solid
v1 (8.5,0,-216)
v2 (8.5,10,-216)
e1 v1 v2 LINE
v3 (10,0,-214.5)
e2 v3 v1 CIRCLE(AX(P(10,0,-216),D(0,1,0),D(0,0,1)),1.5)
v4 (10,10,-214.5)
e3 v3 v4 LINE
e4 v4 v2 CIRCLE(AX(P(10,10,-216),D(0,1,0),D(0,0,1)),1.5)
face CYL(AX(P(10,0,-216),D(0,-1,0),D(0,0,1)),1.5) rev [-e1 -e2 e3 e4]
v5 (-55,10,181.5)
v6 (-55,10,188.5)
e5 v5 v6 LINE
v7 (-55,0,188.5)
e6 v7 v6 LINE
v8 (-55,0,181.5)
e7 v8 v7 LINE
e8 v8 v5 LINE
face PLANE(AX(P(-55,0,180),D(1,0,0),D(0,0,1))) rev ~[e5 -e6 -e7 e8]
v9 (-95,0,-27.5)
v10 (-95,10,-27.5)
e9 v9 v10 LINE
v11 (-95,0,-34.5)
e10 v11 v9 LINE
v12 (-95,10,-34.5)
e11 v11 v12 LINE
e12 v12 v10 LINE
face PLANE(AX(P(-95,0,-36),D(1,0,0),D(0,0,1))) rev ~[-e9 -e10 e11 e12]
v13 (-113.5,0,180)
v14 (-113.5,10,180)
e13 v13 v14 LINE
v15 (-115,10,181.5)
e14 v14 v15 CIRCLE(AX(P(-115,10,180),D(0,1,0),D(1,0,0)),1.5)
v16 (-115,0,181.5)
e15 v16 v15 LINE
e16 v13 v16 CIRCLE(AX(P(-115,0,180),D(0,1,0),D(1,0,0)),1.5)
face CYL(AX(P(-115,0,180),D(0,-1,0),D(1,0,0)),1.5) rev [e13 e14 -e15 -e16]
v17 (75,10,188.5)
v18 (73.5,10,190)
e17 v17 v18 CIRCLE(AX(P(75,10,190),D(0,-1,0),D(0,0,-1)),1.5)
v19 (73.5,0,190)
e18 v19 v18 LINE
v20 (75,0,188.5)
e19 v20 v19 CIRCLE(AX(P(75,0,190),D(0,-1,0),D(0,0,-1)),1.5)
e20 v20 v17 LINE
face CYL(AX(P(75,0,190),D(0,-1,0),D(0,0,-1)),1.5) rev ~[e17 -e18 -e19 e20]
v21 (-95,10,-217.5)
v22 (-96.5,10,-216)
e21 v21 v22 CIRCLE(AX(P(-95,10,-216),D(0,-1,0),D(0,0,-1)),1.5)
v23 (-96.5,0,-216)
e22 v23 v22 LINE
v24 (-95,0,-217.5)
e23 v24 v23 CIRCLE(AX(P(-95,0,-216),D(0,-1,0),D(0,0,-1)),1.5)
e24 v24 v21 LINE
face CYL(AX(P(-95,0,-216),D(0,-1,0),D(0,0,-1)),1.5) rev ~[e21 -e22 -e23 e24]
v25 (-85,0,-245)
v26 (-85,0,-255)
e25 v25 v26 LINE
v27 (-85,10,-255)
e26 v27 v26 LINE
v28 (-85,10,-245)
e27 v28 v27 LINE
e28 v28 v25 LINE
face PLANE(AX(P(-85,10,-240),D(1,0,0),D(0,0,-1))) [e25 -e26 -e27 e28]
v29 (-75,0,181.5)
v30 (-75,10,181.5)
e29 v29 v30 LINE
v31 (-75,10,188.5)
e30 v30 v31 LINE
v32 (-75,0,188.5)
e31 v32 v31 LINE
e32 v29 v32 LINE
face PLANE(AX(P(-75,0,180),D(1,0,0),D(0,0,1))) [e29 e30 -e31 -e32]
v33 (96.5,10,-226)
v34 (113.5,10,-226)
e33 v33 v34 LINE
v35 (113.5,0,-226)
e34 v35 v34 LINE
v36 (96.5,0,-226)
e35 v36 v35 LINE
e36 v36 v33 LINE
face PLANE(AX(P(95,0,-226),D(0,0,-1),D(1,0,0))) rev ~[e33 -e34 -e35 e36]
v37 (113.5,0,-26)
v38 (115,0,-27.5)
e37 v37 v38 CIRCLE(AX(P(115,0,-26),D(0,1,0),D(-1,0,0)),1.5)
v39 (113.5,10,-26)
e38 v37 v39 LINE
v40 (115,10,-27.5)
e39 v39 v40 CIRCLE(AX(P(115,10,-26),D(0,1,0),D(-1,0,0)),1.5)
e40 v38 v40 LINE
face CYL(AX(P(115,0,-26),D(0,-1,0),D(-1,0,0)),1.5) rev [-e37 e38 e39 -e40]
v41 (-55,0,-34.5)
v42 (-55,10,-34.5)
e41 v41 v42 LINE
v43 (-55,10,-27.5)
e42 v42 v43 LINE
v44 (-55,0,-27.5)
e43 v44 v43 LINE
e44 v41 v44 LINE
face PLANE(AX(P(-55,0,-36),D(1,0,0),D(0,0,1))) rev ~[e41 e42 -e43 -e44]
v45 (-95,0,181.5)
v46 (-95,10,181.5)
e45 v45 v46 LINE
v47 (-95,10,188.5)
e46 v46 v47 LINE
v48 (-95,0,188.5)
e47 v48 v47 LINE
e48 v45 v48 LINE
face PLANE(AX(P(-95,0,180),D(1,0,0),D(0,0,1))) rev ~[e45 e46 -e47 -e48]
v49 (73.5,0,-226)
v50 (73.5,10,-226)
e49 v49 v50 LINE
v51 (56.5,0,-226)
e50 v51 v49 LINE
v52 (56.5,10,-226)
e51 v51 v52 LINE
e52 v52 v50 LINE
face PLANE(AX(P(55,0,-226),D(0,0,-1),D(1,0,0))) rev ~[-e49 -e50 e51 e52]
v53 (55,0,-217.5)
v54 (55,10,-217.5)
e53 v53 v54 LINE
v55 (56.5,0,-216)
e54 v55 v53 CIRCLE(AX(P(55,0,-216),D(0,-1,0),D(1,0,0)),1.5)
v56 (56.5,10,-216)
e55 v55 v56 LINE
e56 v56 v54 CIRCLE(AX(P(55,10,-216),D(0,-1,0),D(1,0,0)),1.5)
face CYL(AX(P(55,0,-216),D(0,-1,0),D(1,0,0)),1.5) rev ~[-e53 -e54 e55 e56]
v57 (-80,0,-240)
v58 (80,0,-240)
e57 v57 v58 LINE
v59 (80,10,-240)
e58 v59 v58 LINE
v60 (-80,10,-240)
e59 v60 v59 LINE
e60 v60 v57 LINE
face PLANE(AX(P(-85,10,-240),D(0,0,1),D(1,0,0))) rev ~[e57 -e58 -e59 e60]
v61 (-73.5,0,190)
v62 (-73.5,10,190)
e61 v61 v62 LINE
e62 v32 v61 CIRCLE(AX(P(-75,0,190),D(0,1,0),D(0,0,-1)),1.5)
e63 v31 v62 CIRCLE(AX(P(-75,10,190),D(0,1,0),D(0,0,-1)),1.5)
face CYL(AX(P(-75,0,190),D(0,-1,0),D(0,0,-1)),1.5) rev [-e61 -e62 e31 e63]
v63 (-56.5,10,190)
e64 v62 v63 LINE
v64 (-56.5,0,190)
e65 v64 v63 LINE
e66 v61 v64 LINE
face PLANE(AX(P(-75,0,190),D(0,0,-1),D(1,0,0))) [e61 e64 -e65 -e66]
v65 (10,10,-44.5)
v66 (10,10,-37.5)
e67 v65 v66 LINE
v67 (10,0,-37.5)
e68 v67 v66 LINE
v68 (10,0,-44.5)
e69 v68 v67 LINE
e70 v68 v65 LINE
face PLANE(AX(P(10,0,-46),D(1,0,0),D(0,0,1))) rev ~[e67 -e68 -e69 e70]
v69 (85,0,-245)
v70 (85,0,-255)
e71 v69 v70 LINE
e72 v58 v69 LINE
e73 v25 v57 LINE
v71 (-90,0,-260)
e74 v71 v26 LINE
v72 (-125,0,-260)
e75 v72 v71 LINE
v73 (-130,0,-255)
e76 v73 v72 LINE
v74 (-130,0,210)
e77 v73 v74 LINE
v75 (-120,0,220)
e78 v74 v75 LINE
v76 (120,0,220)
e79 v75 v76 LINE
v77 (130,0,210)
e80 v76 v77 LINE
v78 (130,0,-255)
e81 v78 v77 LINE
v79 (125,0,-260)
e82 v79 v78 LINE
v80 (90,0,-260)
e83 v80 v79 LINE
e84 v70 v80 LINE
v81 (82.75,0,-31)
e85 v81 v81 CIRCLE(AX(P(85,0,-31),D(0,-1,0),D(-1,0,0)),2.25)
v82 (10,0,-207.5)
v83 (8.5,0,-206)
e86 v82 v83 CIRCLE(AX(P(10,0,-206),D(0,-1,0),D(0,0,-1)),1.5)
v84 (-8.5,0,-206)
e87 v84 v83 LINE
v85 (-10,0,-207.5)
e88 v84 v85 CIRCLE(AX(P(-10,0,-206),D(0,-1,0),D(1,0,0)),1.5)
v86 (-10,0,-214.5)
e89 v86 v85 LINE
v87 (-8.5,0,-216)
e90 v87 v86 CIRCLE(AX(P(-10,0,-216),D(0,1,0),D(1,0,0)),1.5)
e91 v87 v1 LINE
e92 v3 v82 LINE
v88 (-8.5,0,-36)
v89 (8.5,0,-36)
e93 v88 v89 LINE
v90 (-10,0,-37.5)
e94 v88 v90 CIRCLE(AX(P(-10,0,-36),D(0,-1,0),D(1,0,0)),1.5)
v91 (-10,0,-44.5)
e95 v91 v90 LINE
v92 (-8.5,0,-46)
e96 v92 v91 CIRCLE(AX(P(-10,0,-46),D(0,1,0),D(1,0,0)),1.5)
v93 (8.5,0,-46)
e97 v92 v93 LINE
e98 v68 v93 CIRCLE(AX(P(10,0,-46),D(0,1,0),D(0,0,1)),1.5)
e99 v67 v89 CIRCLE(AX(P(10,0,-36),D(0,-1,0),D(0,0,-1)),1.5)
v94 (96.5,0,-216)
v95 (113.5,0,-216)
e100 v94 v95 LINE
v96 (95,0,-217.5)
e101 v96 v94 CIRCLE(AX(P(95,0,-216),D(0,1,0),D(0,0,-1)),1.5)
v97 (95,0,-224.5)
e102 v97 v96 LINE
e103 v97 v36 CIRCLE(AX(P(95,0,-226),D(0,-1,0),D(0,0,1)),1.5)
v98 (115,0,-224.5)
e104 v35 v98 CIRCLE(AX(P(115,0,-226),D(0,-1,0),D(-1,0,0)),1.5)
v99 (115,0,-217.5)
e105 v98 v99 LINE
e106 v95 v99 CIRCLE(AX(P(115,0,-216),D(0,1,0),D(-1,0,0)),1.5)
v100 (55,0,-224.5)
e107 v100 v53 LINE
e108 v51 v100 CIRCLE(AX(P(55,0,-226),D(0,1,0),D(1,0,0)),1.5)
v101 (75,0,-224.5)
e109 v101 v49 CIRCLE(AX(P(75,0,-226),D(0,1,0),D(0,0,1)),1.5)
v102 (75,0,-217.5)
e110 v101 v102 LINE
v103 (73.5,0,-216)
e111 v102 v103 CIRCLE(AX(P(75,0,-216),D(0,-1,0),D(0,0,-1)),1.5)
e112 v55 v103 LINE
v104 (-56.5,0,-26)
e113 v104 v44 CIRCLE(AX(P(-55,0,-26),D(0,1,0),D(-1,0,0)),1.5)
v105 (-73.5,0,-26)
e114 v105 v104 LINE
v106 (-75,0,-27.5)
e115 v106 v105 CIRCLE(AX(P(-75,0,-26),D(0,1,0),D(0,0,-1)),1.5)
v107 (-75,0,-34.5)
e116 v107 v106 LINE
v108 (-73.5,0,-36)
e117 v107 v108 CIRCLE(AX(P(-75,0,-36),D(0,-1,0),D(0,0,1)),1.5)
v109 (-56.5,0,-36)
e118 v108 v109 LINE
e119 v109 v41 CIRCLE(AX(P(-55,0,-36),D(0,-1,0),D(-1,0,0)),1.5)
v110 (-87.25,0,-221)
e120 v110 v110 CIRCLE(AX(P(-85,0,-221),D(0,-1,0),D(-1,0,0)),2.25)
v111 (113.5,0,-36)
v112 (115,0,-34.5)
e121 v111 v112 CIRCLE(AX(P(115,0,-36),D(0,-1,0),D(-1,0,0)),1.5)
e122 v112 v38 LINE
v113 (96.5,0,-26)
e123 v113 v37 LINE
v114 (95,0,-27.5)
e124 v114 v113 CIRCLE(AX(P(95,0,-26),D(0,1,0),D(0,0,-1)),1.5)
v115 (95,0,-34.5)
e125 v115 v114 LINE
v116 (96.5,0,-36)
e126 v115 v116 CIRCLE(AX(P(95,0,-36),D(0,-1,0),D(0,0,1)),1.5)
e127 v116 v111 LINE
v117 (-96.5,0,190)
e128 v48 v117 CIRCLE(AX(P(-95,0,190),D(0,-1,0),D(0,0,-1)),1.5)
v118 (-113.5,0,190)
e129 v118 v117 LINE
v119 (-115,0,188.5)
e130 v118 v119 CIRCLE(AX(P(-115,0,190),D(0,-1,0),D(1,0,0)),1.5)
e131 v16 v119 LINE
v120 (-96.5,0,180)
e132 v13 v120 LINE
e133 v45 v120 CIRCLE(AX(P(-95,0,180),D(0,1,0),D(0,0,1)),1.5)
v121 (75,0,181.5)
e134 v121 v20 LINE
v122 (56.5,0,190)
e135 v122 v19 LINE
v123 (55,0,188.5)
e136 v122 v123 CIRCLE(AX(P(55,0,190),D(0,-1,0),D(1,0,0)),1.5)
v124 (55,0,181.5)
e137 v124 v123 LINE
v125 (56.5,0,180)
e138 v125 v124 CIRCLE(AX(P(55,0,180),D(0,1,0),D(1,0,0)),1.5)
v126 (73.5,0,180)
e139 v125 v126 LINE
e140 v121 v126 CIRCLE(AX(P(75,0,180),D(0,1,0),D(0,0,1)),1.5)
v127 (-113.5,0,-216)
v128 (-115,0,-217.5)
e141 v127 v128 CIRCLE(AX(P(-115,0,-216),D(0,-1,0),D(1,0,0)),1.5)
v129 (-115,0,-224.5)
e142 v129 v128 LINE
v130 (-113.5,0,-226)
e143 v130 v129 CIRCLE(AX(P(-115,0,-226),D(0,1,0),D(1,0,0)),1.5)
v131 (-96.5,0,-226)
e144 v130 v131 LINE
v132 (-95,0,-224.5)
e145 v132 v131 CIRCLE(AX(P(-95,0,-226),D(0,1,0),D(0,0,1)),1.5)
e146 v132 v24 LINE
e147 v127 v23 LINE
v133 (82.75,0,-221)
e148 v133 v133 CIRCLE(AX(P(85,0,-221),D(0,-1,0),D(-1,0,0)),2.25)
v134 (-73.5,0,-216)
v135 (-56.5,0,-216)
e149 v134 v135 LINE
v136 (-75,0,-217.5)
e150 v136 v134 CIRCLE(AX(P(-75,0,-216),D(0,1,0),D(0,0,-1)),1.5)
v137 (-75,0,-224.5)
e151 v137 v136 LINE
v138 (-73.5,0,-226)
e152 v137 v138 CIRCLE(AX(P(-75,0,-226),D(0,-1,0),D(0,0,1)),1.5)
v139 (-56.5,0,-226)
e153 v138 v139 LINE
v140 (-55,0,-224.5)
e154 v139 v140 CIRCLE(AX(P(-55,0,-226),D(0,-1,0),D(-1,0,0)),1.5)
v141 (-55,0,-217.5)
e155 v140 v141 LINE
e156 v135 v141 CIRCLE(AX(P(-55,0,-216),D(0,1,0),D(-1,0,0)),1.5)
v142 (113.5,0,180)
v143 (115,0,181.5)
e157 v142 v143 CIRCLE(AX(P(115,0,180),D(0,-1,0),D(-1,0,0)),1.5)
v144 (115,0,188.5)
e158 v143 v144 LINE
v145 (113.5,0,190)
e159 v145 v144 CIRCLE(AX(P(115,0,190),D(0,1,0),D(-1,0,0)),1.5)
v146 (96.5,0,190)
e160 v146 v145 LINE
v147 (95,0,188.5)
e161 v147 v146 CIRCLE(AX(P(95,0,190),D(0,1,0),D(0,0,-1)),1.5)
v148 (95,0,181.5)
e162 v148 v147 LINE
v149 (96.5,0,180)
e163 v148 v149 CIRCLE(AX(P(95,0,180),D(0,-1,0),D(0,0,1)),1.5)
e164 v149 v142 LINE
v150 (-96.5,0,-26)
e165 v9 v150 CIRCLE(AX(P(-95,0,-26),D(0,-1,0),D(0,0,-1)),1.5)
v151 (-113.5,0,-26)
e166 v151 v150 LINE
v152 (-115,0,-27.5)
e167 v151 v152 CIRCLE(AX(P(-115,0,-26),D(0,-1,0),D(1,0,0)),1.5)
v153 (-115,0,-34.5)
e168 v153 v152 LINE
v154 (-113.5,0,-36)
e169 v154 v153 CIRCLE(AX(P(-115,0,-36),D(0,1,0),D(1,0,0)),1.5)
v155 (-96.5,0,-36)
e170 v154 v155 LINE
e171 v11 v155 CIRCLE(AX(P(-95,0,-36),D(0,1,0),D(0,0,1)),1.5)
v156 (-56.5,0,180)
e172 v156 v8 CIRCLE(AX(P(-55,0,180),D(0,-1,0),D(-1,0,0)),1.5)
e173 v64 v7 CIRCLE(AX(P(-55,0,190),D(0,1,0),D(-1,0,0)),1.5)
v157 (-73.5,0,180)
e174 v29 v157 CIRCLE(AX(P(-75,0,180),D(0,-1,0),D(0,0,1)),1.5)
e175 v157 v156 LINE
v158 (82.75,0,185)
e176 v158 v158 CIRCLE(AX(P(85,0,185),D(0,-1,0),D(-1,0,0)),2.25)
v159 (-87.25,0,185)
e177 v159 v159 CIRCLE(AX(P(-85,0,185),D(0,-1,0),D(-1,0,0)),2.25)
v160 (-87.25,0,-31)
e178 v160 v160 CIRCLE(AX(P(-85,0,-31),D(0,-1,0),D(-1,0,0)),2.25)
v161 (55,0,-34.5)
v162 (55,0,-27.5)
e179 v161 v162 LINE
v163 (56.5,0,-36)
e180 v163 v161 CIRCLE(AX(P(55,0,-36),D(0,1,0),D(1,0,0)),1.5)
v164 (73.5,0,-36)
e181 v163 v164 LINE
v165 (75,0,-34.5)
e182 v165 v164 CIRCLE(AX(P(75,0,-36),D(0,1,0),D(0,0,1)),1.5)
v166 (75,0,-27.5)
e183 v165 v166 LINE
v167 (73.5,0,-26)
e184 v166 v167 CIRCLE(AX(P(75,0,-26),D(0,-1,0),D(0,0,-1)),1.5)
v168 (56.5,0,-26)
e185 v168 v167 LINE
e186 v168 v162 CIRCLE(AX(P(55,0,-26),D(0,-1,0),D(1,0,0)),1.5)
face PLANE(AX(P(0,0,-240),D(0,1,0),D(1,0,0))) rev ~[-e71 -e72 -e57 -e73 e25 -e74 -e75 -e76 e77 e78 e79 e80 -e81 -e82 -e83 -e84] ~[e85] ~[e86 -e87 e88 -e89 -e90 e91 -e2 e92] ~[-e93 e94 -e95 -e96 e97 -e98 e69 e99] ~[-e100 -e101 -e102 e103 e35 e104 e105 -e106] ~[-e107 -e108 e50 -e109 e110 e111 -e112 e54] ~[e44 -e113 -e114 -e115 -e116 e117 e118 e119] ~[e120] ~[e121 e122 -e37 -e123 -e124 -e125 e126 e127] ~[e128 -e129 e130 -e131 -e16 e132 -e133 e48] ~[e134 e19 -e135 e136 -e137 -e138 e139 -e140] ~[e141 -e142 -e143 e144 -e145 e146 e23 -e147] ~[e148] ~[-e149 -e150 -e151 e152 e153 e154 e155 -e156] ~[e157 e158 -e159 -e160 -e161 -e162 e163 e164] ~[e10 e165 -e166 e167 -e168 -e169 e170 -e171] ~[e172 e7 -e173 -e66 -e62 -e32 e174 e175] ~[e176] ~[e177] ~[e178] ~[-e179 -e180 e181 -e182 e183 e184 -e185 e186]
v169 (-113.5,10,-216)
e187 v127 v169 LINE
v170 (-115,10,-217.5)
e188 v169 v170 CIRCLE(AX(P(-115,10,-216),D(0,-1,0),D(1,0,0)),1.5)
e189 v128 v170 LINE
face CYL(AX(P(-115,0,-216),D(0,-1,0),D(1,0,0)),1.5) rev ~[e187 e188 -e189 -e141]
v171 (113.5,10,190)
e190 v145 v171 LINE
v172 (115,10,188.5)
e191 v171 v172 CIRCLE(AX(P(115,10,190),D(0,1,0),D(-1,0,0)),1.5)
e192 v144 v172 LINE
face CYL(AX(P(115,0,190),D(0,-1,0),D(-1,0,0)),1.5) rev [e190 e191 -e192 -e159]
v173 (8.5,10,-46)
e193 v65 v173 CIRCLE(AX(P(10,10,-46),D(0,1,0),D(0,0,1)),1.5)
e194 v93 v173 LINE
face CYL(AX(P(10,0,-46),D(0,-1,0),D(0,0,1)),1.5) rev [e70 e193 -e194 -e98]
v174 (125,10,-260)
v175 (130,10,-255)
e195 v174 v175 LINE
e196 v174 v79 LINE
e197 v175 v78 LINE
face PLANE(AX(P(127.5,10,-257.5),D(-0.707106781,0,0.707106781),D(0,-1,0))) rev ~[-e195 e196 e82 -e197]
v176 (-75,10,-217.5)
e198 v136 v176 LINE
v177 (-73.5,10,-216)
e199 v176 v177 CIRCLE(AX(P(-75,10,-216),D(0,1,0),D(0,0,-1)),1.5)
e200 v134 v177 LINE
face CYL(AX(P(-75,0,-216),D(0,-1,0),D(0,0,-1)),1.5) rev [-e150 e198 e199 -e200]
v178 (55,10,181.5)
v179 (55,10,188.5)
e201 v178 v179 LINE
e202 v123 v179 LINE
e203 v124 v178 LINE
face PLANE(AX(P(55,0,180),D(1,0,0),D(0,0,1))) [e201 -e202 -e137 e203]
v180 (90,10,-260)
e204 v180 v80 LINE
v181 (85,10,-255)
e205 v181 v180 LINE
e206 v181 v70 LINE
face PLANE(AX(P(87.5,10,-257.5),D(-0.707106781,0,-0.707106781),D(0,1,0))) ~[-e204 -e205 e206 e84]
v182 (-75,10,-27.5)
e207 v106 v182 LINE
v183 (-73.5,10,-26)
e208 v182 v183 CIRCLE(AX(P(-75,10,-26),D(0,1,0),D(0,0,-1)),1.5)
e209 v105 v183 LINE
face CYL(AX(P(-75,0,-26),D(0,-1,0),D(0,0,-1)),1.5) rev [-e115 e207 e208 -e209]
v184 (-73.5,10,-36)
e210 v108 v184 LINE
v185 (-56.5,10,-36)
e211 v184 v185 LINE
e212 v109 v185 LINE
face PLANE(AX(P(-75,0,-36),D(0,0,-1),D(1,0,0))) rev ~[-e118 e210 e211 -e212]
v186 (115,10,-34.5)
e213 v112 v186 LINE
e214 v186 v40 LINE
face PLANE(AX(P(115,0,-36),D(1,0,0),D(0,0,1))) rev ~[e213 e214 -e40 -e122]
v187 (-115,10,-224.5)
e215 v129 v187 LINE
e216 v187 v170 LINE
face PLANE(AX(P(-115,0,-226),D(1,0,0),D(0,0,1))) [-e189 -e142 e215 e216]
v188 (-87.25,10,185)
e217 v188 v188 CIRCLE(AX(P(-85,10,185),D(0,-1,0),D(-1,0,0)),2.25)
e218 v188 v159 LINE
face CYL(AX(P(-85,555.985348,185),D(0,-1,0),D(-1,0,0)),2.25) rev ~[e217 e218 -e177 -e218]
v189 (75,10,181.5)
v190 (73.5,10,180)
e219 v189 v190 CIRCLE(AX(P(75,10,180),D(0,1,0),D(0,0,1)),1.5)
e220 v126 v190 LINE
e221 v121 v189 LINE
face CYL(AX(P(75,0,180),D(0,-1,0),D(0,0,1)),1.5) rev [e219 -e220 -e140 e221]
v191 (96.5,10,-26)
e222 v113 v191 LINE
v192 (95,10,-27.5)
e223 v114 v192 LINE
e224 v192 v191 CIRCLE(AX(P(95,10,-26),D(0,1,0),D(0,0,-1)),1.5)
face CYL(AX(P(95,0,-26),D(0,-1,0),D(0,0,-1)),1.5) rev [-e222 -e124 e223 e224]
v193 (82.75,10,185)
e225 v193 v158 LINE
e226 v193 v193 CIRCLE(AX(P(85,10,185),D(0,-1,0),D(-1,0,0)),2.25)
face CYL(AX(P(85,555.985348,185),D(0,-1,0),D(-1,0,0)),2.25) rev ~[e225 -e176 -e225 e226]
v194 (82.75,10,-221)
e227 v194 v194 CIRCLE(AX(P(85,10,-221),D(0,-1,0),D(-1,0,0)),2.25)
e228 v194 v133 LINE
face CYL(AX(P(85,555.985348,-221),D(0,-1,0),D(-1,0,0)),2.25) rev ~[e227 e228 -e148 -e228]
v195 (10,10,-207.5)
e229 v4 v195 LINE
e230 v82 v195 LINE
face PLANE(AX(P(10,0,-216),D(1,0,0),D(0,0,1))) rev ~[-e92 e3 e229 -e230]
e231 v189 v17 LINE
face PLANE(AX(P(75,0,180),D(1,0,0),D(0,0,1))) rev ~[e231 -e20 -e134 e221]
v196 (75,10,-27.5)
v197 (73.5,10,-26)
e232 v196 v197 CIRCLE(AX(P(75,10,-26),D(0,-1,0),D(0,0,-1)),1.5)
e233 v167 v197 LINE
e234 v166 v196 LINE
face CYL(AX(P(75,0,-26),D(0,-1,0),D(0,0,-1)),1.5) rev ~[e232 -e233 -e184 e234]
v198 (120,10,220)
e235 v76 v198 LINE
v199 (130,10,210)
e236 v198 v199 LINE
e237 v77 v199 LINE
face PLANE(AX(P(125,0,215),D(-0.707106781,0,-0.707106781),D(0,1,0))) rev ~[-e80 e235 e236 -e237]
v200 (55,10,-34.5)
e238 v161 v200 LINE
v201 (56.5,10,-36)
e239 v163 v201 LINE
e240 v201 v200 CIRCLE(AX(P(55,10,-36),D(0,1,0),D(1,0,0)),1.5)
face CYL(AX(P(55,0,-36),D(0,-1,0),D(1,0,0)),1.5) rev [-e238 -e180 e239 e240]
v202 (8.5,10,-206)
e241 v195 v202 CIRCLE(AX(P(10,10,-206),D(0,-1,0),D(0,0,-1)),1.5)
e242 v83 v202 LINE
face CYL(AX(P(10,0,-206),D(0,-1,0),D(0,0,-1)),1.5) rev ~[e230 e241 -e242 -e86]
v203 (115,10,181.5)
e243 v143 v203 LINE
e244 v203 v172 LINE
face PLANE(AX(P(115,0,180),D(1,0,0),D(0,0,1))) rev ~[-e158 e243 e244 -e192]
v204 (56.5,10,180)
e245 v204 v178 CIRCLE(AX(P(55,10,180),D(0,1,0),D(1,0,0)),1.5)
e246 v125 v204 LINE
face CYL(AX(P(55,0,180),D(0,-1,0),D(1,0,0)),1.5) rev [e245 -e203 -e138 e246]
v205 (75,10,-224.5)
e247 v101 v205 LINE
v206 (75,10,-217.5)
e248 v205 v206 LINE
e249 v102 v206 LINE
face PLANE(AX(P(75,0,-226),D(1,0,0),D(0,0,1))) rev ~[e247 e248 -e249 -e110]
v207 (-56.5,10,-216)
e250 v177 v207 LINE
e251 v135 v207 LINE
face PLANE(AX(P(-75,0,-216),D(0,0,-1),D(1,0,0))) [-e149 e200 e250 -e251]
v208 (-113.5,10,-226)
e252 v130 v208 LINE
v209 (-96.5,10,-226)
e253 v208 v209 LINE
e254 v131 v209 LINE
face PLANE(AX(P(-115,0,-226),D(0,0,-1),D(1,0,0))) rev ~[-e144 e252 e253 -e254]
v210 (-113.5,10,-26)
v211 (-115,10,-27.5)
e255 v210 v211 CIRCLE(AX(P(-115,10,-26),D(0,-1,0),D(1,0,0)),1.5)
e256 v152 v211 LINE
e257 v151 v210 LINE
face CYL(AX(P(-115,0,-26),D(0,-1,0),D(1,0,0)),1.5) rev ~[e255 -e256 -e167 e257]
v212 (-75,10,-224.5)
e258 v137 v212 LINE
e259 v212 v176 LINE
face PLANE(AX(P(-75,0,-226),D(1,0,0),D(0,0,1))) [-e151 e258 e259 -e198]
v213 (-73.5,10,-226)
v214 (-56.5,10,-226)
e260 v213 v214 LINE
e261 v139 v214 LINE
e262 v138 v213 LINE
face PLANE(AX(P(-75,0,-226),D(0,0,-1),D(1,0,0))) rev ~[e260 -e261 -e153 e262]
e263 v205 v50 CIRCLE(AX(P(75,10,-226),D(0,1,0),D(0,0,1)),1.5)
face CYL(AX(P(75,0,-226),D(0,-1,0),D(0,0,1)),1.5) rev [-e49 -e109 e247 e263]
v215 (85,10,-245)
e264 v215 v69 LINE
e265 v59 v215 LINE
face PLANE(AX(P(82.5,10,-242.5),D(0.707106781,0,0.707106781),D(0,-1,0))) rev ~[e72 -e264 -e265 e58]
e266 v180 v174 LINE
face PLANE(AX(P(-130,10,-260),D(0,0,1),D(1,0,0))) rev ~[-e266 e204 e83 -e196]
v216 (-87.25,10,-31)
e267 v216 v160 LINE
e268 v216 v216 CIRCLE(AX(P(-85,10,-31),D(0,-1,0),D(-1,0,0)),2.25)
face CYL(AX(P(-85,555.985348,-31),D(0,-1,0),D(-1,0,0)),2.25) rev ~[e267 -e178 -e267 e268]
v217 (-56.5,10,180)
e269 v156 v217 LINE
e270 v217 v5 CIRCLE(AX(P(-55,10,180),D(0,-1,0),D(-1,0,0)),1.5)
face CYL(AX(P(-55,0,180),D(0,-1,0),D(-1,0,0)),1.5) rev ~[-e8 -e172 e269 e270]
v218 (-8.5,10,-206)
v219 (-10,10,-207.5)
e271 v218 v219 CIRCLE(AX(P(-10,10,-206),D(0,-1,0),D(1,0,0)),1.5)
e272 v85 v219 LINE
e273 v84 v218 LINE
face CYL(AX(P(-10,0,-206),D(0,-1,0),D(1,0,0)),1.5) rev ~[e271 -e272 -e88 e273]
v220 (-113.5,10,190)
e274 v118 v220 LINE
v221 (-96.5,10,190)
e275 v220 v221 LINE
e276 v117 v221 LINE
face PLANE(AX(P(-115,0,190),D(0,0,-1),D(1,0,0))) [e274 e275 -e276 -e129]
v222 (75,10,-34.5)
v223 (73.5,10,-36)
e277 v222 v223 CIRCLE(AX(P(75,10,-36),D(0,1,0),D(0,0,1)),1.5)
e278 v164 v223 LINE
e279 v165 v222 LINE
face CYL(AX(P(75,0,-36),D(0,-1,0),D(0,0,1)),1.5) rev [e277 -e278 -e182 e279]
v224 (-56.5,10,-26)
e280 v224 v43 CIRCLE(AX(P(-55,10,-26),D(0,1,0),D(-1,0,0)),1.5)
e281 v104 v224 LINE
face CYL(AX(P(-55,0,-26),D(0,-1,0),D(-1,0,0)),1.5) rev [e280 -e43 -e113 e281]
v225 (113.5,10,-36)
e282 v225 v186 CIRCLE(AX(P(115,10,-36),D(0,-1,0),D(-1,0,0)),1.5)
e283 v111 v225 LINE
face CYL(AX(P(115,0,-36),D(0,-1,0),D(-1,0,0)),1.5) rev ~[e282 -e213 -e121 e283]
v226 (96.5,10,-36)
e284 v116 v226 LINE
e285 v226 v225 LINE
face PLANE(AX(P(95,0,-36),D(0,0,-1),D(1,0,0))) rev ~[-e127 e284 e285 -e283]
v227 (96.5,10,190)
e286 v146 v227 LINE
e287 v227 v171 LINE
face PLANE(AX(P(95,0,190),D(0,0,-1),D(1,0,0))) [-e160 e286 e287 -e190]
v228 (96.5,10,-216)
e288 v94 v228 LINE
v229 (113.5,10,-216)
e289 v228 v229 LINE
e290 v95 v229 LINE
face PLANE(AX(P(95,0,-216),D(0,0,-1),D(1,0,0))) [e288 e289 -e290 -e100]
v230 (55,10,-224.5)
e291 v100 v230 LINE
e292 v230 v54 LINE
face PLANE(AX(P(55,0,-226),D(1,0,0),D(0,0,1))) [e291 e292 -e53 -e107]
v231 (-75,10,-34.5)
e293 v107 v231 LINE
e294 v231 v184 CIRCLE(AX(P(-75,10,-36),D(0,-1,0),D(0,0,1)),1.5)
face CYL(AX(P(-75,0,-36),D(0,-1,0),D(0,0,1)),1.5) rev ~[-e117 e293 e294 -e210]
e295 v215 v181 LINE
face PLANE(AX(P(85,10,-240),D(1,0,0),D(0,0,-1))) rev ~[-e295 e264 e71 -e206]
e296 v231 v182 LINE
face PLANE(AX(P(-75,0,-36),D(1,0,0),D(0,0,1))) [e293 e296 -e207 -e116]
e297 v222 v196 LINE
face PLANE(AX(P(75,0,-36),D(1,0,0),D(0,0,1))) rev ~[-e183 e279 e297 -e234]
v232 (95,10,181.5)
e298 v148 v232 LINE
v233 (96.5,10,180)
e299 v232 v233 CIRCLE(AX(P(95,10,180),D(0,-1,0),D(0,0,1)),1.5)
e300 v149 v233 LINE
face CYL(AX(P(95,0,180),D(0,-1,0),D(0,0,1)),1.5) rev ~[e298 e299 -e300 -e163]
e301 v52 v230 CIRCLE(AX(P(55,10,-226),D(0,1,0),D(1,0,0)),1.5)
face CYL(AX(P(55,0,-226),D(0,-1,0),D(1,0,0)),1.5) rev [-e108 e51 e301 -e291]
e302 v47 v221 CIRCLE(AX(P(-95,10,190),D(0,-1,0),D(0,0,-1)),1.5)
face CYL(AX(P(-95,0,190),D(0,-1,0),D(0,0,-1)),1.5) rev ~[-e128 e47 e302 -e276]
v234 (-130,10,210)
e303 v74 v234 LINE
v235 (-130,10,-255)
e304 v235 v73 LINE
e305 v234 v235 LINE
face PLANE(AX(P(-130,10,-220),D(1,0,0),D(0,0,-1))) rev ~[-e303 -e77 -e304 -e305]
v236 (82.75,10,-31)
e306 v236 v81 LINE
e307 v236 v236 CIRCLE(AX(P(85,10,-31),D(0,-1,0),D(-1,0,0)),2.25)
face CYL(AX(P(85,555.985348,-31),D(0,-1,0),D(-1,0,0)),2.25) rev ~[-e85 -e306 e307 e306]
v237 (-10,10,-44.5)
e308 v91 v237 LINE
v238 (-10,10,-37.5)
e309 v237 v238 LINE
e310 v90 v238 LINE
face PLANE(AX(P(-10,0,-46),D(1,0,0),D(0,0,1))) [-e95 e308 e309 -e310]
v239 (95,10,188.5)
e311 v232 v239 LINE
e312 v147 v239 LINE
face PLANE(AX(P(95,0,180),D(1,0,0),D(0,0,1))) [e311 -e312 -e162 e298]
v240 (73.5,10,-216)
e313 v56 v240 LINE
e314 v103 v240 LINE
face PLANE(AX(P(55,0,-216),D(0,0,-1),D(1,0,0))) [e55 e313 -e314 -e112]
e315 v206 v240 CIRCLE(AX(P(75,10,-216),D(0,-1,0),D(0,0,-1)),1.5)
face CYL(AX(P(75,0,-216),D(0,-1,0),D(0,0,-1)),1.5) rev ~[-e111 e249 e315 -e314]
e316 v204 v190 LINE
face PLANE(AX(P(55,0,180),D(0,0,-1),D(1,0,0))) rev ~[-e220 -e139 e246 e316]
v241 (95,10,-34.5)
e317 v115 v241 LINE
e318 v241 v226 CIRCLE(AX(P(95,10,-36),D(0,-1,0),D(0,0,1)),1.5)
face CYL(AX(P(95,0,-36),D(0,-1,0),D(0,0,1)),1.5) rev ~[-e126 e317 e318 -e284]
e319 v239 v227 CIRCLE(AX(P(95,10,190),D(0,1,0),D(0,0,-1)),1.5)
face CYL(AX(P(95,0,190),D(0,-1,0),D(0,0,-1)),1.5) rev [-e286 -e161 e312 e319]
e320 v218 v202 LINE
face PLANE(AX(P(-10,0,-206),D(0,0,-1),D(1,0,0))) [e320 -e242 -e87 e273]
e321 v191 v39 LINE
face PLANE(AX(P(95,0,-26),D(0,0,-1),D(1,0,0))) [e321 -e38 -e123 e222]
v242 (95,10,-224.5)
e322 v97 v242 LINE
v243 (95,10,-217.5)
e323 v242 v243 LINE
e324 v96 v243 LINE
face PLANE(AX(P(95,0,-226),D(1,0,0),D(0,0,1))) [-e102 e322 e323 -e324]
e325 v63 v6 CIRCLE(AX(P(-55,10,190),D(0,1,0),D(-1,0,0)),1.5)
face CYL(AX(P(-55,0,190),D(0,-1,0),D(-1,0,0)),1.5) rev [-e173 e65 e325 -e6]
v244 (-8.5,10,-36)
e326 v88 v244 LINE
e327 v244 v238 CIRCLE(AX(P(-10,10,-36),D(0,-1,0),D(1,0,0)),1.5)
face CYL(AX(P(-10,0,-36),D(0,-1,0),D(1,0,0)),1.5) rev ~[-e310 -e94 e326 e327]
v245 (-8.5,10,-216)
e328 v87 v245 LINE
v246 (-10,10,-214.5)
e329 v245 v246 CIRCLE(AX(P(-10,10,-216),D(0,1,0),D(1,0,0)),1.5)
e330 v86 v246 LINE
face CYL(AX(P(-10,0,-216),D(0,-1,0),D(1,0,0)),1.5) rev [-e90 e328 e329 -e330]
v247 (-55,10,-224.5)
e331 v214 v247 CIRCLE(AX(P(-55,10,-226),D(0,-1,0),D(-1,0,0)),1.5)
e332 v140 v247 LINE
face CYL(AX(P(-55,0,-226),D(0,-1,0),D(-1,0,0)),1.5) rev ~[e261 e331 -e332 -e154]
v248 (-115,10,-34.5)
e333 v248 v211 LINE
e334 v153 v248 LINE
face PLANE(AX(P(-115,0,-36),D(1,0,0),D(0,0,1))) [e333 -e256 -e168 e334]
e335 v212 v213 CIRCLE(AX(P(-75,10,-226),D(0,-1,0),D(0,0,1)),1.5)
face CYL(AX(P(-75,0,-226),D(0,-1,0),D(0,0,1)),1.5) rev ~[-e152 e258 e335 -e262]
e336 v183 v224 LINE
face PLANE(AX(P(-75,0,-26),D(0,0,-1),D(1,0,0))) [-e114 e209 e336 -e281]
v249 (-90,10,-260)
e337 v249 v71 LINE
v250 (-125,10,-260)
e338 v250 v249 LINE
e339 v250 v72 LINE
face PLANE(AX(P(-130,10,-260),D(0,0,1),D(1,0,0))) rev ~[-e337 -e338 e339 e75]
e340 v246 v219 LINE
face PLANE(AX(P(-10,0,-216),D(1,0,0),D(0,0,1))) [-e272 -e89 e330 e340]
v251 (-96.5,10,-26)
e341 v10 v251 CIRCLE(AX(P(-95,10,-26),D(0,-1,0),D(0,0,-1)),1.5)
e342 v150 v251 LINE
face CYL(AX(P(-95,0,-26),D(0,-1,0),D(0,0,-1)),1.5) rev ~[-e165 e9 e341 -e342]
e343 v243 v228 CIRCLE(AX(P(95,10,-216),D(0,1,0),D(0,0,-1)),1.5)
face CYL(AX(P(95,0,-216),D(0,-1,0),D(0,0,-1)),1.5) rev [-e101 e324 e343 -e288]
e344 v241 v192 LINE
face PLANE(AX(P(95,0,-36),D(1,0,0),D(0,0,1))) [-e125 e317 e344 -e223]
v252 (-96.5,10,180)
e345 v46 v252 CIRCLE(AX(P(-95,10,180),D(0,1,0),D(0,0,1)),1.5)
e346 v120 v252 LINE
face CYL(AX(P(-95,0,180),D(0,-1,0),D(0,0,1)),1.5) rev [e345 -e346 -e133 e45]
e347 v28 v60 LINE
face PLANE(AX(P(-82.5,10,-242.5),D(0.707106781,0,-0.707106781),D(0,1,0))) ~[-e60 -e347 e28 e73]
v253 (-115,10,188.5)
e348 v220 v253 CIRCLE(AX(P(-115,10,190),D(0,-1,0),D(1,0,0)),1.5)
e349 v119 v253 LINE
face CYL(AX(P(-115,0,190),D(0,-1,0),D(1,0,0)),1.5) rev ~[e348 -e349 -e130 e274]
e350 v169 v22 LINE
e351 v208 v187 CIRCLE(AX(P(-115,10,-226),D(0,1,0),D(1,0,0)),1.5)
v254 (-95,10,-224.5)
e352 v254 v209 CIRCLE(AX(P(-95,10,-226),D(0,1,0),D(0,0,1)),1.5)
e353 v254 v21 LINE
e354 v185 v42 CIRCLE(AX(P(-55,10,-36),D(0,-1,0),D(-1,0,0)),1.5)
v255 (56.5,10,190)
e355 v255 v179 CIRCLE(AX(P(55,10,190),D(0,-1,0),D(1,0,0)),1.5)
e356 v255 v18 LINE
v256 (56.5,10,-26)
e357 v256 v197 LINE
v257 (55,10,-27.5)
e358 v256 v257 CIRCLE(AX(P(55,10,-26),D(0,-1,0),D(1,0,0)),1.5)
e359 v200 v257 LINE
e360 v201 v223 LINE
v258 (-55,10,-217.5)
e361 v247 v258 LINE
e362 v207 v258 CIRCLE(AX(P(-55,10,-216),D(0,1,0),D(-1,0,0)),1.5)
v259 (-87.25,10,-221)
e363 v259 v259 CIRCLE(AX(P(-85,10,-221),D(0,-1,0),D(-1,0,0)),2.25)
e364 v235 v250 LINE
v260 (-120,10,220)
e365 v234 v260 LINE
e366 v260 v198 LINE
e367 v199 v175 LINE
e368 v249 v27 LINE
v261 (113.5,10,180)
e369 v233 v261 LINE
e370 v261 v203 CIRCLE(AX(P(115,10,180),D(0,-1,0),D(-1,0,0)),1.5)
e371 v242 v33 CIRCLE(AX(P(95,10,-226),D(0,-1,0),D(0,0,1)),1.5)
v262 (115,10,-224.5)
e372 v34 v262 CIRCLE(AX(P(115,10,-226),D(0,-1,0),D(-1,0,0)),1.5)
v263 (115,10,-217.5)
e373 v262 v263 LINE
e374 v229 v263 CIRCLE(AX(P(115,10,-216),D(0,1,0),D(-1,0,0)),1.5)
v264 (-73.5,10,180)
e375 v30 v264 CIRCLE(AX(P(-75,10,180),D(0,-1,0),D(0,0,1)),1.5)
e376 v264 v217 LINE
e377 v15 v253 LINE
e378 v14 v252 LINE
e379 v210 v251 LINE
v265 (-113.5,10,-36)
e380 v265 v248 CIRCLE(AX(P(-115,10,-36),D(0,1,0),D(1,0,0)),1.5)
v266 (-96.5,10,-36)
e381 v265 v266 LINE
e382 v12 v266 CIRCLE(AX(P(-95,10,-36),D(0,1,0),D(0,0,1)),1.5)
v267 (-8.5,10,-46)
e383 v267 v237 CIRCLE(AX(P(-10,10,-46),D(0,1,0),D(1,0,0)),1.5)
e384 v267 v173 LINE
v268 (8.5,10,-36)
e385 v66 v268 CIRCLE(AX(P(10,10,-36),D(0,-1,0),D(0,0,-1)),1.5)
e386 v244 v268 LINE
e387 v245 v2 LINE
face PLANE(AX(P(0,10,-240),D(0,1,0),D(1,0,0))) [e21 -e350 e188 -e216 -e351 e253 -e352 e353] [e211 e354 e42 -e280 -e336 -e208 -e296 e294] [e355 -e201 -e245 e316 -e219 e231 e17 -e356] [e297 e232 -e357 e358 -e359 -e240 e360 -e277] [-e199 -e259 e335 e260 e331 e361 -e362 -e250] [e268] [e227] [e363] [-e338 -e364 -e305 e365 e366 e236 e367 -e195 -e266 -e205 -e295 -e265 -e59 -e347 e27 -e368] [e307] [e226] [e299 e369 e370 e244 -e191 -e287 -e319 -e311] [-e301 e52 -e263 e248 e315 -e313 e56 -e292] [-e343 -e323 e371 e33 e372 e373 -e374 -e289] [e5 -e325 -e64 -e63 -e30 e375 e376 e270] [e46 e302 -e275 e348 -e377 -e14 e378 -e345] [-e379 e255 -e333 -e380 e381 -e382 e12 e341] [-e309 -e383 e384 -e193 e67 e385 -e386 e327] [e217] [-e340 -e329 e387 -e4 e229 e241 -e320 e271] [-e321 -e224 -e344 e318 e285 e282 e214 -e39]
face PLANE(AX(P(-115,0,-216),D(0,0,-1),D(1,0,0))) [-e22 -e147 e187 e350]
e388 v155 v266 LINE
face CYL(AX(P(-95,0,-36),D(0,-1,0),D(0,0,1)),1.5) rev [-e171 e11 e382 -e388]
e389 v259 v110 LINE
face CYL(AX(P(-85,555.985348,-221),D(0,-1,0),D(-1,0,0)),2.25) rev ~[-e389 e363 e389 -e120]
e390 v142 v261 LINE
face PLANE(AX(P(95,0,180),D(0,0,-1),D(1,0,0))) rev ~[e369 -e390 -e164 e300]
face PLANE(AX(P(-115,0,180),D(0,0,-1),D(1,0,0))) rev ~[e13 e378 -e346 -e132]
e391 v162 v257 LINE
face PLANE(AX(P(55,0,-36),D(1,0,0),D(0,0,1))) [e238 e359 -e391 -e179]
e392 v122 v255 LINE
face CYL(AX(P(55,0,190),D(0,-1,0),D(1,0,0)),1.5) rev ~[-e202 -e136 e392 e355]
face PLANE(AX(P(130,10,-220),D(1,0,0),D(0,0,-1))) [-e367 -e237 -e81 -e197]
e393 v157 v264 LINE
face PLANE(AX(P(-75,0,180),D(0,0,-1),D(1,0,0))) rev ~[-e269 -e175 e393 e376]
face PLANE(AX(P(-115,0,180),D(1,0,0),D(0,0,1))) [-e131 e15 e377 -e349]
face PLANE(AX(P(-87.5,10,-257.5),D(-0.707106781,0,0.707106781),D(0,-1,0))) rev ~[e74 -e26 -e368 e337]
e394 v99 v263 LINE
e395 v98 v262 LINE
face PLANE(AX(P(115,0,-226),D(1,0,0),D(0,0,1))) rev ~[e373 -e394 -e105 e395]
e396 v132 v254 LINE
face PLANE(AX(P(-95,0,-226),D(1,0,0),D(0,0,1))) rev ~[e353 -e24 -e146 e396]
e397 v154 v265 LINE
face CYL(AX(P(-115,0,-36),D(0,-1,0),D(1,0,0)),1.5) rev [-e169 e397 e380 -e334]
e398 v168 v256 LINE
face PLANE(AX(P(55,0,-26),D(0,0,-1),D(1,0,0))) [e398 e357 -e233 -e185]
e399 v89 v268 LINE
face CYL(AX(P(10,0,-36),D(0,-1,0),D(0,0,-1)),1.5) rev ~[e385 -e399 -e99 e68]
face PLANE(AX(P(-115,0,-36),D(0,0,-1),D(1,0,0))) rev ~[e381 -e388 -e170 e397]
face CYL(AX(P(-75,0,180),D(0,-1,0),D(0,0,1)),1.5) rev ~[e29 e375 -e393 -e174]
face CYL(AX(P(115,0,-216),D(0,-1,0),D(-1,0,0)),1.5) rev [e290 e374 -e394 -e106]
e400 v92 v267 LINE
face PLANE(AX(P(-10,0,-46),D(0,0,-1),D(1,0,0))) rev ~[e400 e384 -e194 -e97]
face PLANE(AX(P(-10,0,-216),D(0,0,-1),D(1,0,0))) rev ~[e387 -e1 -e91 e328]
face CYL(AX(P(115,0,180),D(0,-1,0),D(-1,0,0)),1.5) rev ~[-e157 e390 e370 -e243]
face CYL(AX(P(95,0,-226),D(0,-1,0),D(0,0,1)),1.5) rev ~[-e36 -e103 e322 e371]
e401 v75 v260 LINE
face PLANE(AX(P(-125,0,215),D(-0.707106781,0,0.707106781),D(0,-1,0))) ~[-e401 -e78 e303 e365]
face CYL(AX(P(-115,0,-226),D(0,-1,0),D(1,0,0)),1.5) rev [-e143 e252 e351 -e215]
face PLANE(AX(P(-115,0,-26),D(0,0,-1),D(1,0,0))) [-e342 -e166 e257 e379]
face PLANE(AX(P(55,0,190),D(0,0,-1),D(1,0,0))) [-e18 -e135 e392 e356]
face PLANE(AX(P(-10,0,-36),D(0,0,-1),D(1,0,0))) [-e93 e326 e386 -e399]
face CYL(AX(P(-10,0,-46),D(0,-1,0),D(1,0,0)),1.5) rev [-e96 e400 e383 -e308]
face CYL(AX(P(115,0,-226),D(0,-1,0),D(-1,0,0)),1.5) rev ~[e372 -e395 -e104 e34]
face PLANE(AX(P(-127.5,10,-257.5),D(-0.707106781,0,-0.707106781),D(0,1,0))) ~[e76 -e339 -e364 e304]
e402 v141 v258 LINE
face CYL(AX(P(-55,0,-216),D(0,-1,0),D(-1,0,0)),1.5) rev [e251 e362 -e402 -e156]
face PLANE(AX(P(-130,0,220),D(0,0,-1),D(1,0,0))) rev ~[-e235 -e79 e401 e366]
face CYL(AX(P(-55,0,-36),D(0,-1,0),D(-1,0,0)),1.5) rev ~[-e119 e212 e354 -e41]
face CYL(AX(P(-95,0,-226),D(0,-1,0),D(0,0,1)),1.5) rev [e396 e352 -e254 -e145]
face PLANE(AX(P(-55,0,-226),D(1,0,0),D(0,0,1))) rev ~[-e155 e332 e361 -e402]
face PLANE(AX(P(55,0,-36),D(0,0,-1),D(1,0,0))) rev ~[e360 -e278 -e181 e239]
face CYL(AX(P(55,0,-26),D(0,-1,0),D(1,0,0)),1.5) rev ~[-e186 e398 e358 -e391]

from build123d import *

# Parameters (mm, degrees)
SKETCH1_W            = 260
SKETCH1_H            = 440
EXTRUDE1_DEPTH       = 10
SKETCH3_W            = 260
SKETCH3_H            = 40
EXTRUDE3_DEPTH       = 10
SKETCH4_W            = 20
SKETCH4_H            = 10
CUT_EXTRUDE1_DEPTH   = 10
EXTRUDE4_DEPTH       = 10
MIRROR2_COPY_1_DEPTH = 10
MIRROR3_COPY_1_DEPTH = 10
MIRROR3_COPY_2_DEPTH = 10
MIRROR3_COPY_3_DEPTH = 10
MIRROR4_COPY_1_DEPTH = 10
MIRROR4_COPY_2_DEPTH = 10
MIRROR4_COPY_3_DEPTH = 10
M4_CLEARANCE_HOLE1_D = 4.5
SKETCH8_W            = 20
SKETCH8_H            = 10
CUT_EXTRUDE2_DEPTH   = 10
EXTRUDE5_DEPTH       = 10
CHAMFER1_SIZE        = 10
SKETCH10_W           = 170
SKETCH10_H           = 20
EXTRUDE6_DEPTH       = 10
CHAMFER2_SIZE        = 5


with BuildPart() as part:
    # Sketch1 → Extrude1 (new body)
    with BuildSketch(Plane(origin=(0, 0, 0), x_dir=(1, 0, 0), z_dir=(0, 1, 0))):
        Rectangle(SKETCH1_W, SKETCH1_H)
    extrude(amount=EXTRUDE1_DEPTH)

    # Sketch3 → Extrude3 (add)
    with BuildSketch(Plane(origin=(0, 10, 0), x_dir=(1, 0, 0), z_dir=(0, 1, 0))):
        with Locations((0, 240)):
            Rectangle(SKETCH3_W, SKETCH3_H)
    extrude(amount=-EXTRUDE3_DEPTH)

    # Sketch4 → Cut-Extrude1 (cut)
    with BuildSketch(Plane(origin=(130, 0, -206), x_dir=(1, 0, 0), z_dir=(0, -1, 0))):
        with Locations((-235, 391)):
            Rectangle(SKETCH4_W, SKETCH4_H)
        with Locations((-195, 391)):
            Rectangle(SKETCH4_W, SKETCH4_H)
        with Locations((-65, 391)):
            Rectangle(SKETCH4_W, SKETCH4_H)
        with Locations((-25, 391)):
            Rectangle(SKETCH4_W, SKETCH4_H)
        with Locations((-235, 175)):
            Rectangle(SKETCH4_W, SKETCH4_H)
        with Locations((-195, 175)):
            Rectangle(SKETCH4_W, SKETCH4_H)
        with Locations((-65, 175)):
            Rectangle(SKETCH4_W, SKETCH4_H)
        with Locations((-25, 175)):
            Rectangle(SKETCH4_W, SKETCH4_H)
        with Locations((-235, -15)):
            Rectangle(SKETCH4_W, SKETCH4_H)
        with Locations((-195, -15)):
            Rectangle(SKETCH4_W, SKETCH4_H)
        with Locations((-65, -15)):
            Rectangle(SKETCH4_W, SKETCH4_H)
        with Locations((-25, -15)):
            Rectangle(SKETCH4_W, SKETCH4_H)
    extrude(amount=-CUT_EXTRUDE1_DEPTH, mode=Mode.SUBTRACT)

    # Sketch5 → Extrude4 (cut)
    with BuildSketch(Plane(origin=(0, 0, 0), x_dir=(-1, 0, 0), z_dir=(0, -1, 0))):
        with BuildLine():
            Line((96.5, -190), (95, -190))
            Line((95, -190), (95, -188.5))
            ThreePointArc((95, -188.5), (93.939339828, -191.060660172), (96.5, -190))
        make_face()
        with BuildLine():
            Line((115, -190), (113.5, -190))
            ThreePointArc((113.5, -190), (116.060660172, -191.060660172), (115, -188.5))
            Line((115, -188.5), (115, -190))
        make_face()
        with BuildLine():
            Line((115, -180), (113.5, -180))
            ThreePointArc((113.5, -180), (116.060660172, -178.939339828), (115, -181.5))
            Line((115, -181.5), (115, -180))
        make_face()
        with BuildLine():
            Line((96.5, -180), (95, -180))
            Line((95, -180), (95, -181.5))
            ThreePointArc((95, -181.5), (93.939339828, -178.939339828), (96.5, -180))
        make_face()
    extrude4 = extrude(amount=-EXTRUDE4_DEPTH, mode=Mode.SUBTRACT)

    # Mirror1: Extrude4 across plane
    add(extrude4.mirror(Plane(origin=(-85, 0, 0), x_dir=(0, 0, 1), z_dir=(1, 0, 0))), mode=Mode.SUBTRACT)

    # Mirror2: Extrude4 across plane
    add(extrude4.mirror(Plane(origin=(0, 0, 0), x_dir=(0, 0, 1), z_dir=(1, 0, 0))), mode=Mode.SUBTRACT)

    # Mirror2 copy 1 sketch → Mirror2 copy 1 (cut)
    with BuildSketch(Plane(origin=(170, 0, 0), x_dir=(-1, 0, 0), z_dir=(0, -1, 0))):
        with BuildLine():
            Line((96.5, -190), (95, -190))
            Line((95, -190), (95, -188.5))
            ThreePointArc((95, -188.5), (93.939339828, -191.060660172), (96.5, -190))
        make_face()
        with BuildLine():
            Line((115, -190), (113.5, -190))
            ThreePointArc((113.5, -190), (116.060660172, -191.060660172), (115, -188.5))
            Line((115, -188.5), (115, -190))
        make_face()
        with BuildLine():
            Line((115, -180), (113.5, -180))
            ThreePointArc((113.5, -180), (116.060660172, -178.939339828), (115, -181.5))
            Line((115, -181.5), (115, -180))
        make_face()
        with BuildLine():
            Line((96.5, -180), (95, -180))
            Line((95, -180), (95, -181.5))
            ThreePointArc((95, -181.5), (93.939339828, -178.939339828), (96.5, -180))
        make_face()
    extrude(amount=-MIRROR2_COPY_1_DEPTH, mode=Mode.SUBTRACT)

    # Mirror3: Extrude4 across plane
    add(extrude4.mirror(Plane(origin=(0, 0, 77), x_dir=(1, 0, 0), z_dir=(0, 0, -1))), mode=Mode.SUBTRACT)

    # Mirror3 copy 1 sketch → Mirror3 copy 1 (cut)
    with BuildSketch(Plane(origin=(-170, 0, 154), x_dir=(1, 0, 0), z_dir=(0, -1, 0))):
        with BuildLine():
            Line((96.5, -190), (95, -190))
            Line((95, -190), (95, -188.5))
            ThreePointArc((95, -188.5), (93.939339828, -191.060660172), (96.5, -190))
        make_face()
        with BuildLine():
            Line((115, -190), (113.5, -190))
            ThreePointArc((113.5, -190), (116.060660172, -191.060660172), (115, -188.5))
            Line((115, -188.5), (115, -190))
        make_face()
        with BuildLine():
            Line((115, -180), (113.5, -180))
            ThreePointArc((113.5, -180), (116.060660172, -178.939339828), (115, -181.5))
            Line((115, -181.5), (115, -180))
        make_face()
        with BuildLine():
            Line((96.5, -180), (95, -180))
            Line((95, -180), (95, -181.5))
            ThreePointArc((95, -181.5), (93.939339828, -178.939339828), (96.5, -180))
        make_face()
    extrude(amount=-MIRROR3_COPY_1_DEPTH, mode=Mode.SUBTRACT)

    # Mirror3 copy 2 sketch → Mirror3 copy 2 (cut)
    with BuildSketch(Plane(origin=(0, 0, 154), x_dir=(1, 0, 0), z_dir=(0, -1, 0))):
        with BuildLine():
            Line((96.5, -190), (95, -190))
            Line((95, -190), (95, -188.5))
            ThreePointArc((95, -188.5), (93.939339828, -191.060660172), (96.5, -190))
        make_face()
        with BuildLine():
            Line((115, -190), (113.5, -190))
            ThreePointArc((113.5, -190), (116.060660172, -191.060660172), (115, -188.5))
            Line((115, -188.5), (115, -190))
        make_face()
        with BuildLine():
            Line((115, -180), (113.5, -180))
            ThreePointArc((113.5, -180), (116.060660172, -178.939339828), (115, -181.5))
            Line((115, -181.5), (115, -180))
        make_face()
        with BuildLine():
            Line((96.5, -180), (95, -180))
            Line((95, -180), (95, -181.5))
            ThreePointArc((95, -181.5), (93.939339828, -178.939339828), (96.5, -180))
        make_face()
    extrude(amount=-MIRROR3_COPY_2_DEPTH, mode=Mode.SUBTRACT)

    # Mirror3 copy 3 sketch → Mirror3 copy 3 (cut)
    with BuildSketch(Plane(origin=(170, 0, 154), x_dir=(-1, 0, 0), z_dir=(0, -1, 0))):
        with BuildLine():
            Line((96.5, 190), (95, 190))
            Line((95, 190), (95, 188.5))
            ThreePointArc((95, 188.5), (93.939339828, 191.060660172), (96.5, 190))
        make_face()
        with BuildLine():
            Line((115, 190), (113.5, 190))
            ThreePointArc((113.5, 190), (116.060660172, 191.060660172), (115, 188.5))
            Line((115, 188.5), (115, 190))
        make_face()
        with BuildLine():
            Line((115, 180), (113.5, 180))
            ThreePointArc((113.5, 180), (116.060660172, 178.939339828), (115, 181.5))
            Line((115, 181.5), (115, 180))
        make_face()
        with BuildLine():
            Line((96.5, 180), (95, 180))
            Line((95, 180), (95, 181.5))
            ThreePointArc((95, 181.5), (93.939339828, 178.939339828), (96.5, 180))
        make_face()
    extrude(amount=-MIRROR3_COPY_3_DEPTH, mode=Mode.SUBTRACT)

    # Mirror4: Extrude4 across plane
    add(extrude4.mirror(Plane.XY.offset(-18)), mode=Mode.SUBTRACT)

    # Mirror4 copy 1 sketch → Mirror4 copy 1 (cut)
    with BuildSketch(Plane(origin=(-170, 0, -36), x_dir=(1, 0, 0), z_dir=(0, -1, 0))):
        with BuildLine():
            Line((96.5, -190), (95, -190))
            Line((95, -190), (95, -188.5))
            ThreePointArc((95, -188.5), (93.939339828, -191.060660172), (96.5, -190))
        make_face()
        with BuildLine():
            Line((115, -190), (113.5, -190))
            ThreePointArc((113.5, -190), (116.060660172, -191.060660172), (115, -188.5))
            Line((115, -188.5), (115, -190))
        make_face()
        with BuildLine():
            Line((115, -180), (113.5, -180))
            ThreePointArc((113.5, -180), (116.060660172, -178.939339828), (115, -181.5))
            Line((115, -181.5), (115, -180))
        make_face()
        with BuildLine():
            Line((96.5, -180), (95, -180))
            Line((95, -180), (95, -181.5))
            ThreePointArc((95, -181.5), (93.939339828, -178.939339828), (96.5, -180))
        make_face()
    extrude(amount=-MIRROR4_COPY_1_DEPTH, mode=Mode.SUBTRACT)

    # Mirror4 copy 2 sketch → Mirror4 copy 2 (cut)
    with BuildSketch(Plane(origin=(0, 0, -36), x_dir=(1, 0, 0), z_dir=(0, -1, 0))):
        with BuildLine():
            Line((96.5, -190), (95, -190))
            Line((95, -190), (95, -188.5))
            ThreePointArc((95, -188.5), (93.939339828, -191.060660172), (96.5, -190))
        make_face()
        with BuildLine():
            Line((115, -190), (113.5, -190))
            ThreePointArc((113.5, -190), (116.060660172, -191.060660172), (115, -188.5))
            Line((115, -188.5), (115, -190))
        make_face()
        with BuildLine():
            Line((115, -180), (113.5, -180))
            ThreePointArc((113.5, -180), (116.060660172, -178.939339828), (115, -181.5))
            Line((115, -181.5), (115, -180))
        make_face()
        with BuildLine():
            Line((96.5, -180), (95, -180))
            Line((95, -180), (95, -181.5))
            ThreePointArc((95, -181.5), (93.939339828, -178.939339828), (96.5, -180))
        make_face()
    extrude(amount=-MIRROR4_COPY_2_DEPTH, mode=Mode.SUBTRACT)

    # Mirror4 copy 3 sketch → Mirror4 copy 3 (cut)
    with BuildSketch(Plane(origin=(170, 0, -36), x_dir=(-1, 0, 0), z_dir=(0, -1, 0))):
        with BuildLine():
            Line((96.5, 190), (95, 190))
            Line((95, 190), (95, 188.5))
            ThreePointArc((95, 188.5), (93.939339828, 191.060660172), (96.5, 190))
        make_face()
        with BuildLine():
            Line((115, 190), (113.5, 190))
            ThreePointArc((113.5, 190), (116.060660172, 191.060660172), (115, 188.5))
            Line((115, 188.5), (115, 190))
        make_face()
        with BuildLine():
            Line((115, 180), (113.5, 180))
            ThreePointArc((113.5, 180), (116.060660172, 178.939339828), (115, 181.5))
            Line((115, 181.5), (115, 180))
        make_face()
        with BuildLine():
            Line((96.5, 180), (95, 180))
            Line((95, 180), (95, 181.5))
            ThreePointArc((95, 181.5), (93.939339828, 178.939339828), (96.5, 180))
        make_face()
    extrude(amount=-MIRROR4_COPY_3_DEPTH, mode=Mode.SUBTRACT)

    # M4 Clearance Hole1 (through all)
    with Locations(Plane(origin=(0, 10, 0), x_dir=(1, 0, 0), z_dir=(0, 1, 0))):
        with Locations((-85, 221), (85, 221), (85, 31), (-85, 31), (-85, -185), (85, -185)):
            Hole(M4_CLEARANCE_HOLE1_D / 2)

    # Sketch8 → Cut-Extrude2 (cut)
    with BuildSketch(Plane(origin=(130, 0, -206), x_dir=(1, 0, 0), z_dir=(0, -1, 0))):
        with Locations((-130, 165)):
            Rectangle(SKETCH8_W, SKETCH8_H)
        with Locations((-130, -5)):
            Rectangle(SKETCH8_W, SKETCH8_H)
    extrude(amount=-CUT_EXTRUDE2_DEPTH, mode=Mode.SUBTRACT)

    # Sketch9 → Extrude5 (cut)
    with BuildSketch(Plane.XZ):
        with BuildLine():
            Line((-10, -44.5), (-10, -46))
            Line((-10, -46), (-8.5, -46))
            ThreePointArc((-8.5, -46), (-11.060660172, -47.060660172), (-10, -44.5))
        make_face()
        with BuildLine():
            Line((-10, -36), (-8.5, -36))
            ThreePointArc((-8.5, -36), (-11.060660172, -34.939339828), (-10, -37.5))
            Line((-10, -37.5), (-10, -36))
        make_face()
        with BuildLine():
            Line((10, -36), (10, -37.5))
            ThreePointArc((10, -37.5), (11.060660172, -34.939339828), (8.5, -36))
            Line((8.5, -36), (10, -36))
        make_face()
        with BuildLine():
            Line((8.5, -46), (10, -46))
            Line((10, -46), (10, -44.5))
            ThreePointArc((10, -44.5), (11.060660172, -47.060660172), (8.5, -46))
        make_face()
    extrude5 = extrude(amount=-EXTRUDE5_DEPTH, mode=Mode.SUBTRACT)

    # Mirror5: Extrude5 across plane
    add(extrude5.mirror(Plane.XY.offset(-126)), mode=Mode.SUBTRACT)

    # Chamfer1
    chamfer1_edges = [part.edges().sort_by_distance(p)[0] for p in [
        (130, 5, 220),
        (-130, 5, 220),
    ]]
    chamfer(chamfer1_edges, length=CHAMFER1_SIZE)

    # Sketch10 → Extrude6 (cut)
    with BuildSketch(Plane(origin=(0, 10, 0), x_dir=(1, 0, 0), z_dir=(0, 1, 0))):
        with Locations((0, 250)):
            Rectangle(SKETCH10_W, SKETCH10_H)
    extrude(amount=-EXTRUDE6_DEPTH, mode=Mode.SUBTRACT)

    # Chamfer2
    chamfer2_edges = [part.edges().sort_by_distance(p)[0] for p in [
        (-130, 5, -260),
        (130, 5, -260),
        (-85, 5, -240),
        (-85, 5, -260),
        (85, 5, -260),
        (85, 5, -240),
    ]]
    chamfer(chamfer2_edges, length=CHAMFER2_SIZE)


solid = part.part
